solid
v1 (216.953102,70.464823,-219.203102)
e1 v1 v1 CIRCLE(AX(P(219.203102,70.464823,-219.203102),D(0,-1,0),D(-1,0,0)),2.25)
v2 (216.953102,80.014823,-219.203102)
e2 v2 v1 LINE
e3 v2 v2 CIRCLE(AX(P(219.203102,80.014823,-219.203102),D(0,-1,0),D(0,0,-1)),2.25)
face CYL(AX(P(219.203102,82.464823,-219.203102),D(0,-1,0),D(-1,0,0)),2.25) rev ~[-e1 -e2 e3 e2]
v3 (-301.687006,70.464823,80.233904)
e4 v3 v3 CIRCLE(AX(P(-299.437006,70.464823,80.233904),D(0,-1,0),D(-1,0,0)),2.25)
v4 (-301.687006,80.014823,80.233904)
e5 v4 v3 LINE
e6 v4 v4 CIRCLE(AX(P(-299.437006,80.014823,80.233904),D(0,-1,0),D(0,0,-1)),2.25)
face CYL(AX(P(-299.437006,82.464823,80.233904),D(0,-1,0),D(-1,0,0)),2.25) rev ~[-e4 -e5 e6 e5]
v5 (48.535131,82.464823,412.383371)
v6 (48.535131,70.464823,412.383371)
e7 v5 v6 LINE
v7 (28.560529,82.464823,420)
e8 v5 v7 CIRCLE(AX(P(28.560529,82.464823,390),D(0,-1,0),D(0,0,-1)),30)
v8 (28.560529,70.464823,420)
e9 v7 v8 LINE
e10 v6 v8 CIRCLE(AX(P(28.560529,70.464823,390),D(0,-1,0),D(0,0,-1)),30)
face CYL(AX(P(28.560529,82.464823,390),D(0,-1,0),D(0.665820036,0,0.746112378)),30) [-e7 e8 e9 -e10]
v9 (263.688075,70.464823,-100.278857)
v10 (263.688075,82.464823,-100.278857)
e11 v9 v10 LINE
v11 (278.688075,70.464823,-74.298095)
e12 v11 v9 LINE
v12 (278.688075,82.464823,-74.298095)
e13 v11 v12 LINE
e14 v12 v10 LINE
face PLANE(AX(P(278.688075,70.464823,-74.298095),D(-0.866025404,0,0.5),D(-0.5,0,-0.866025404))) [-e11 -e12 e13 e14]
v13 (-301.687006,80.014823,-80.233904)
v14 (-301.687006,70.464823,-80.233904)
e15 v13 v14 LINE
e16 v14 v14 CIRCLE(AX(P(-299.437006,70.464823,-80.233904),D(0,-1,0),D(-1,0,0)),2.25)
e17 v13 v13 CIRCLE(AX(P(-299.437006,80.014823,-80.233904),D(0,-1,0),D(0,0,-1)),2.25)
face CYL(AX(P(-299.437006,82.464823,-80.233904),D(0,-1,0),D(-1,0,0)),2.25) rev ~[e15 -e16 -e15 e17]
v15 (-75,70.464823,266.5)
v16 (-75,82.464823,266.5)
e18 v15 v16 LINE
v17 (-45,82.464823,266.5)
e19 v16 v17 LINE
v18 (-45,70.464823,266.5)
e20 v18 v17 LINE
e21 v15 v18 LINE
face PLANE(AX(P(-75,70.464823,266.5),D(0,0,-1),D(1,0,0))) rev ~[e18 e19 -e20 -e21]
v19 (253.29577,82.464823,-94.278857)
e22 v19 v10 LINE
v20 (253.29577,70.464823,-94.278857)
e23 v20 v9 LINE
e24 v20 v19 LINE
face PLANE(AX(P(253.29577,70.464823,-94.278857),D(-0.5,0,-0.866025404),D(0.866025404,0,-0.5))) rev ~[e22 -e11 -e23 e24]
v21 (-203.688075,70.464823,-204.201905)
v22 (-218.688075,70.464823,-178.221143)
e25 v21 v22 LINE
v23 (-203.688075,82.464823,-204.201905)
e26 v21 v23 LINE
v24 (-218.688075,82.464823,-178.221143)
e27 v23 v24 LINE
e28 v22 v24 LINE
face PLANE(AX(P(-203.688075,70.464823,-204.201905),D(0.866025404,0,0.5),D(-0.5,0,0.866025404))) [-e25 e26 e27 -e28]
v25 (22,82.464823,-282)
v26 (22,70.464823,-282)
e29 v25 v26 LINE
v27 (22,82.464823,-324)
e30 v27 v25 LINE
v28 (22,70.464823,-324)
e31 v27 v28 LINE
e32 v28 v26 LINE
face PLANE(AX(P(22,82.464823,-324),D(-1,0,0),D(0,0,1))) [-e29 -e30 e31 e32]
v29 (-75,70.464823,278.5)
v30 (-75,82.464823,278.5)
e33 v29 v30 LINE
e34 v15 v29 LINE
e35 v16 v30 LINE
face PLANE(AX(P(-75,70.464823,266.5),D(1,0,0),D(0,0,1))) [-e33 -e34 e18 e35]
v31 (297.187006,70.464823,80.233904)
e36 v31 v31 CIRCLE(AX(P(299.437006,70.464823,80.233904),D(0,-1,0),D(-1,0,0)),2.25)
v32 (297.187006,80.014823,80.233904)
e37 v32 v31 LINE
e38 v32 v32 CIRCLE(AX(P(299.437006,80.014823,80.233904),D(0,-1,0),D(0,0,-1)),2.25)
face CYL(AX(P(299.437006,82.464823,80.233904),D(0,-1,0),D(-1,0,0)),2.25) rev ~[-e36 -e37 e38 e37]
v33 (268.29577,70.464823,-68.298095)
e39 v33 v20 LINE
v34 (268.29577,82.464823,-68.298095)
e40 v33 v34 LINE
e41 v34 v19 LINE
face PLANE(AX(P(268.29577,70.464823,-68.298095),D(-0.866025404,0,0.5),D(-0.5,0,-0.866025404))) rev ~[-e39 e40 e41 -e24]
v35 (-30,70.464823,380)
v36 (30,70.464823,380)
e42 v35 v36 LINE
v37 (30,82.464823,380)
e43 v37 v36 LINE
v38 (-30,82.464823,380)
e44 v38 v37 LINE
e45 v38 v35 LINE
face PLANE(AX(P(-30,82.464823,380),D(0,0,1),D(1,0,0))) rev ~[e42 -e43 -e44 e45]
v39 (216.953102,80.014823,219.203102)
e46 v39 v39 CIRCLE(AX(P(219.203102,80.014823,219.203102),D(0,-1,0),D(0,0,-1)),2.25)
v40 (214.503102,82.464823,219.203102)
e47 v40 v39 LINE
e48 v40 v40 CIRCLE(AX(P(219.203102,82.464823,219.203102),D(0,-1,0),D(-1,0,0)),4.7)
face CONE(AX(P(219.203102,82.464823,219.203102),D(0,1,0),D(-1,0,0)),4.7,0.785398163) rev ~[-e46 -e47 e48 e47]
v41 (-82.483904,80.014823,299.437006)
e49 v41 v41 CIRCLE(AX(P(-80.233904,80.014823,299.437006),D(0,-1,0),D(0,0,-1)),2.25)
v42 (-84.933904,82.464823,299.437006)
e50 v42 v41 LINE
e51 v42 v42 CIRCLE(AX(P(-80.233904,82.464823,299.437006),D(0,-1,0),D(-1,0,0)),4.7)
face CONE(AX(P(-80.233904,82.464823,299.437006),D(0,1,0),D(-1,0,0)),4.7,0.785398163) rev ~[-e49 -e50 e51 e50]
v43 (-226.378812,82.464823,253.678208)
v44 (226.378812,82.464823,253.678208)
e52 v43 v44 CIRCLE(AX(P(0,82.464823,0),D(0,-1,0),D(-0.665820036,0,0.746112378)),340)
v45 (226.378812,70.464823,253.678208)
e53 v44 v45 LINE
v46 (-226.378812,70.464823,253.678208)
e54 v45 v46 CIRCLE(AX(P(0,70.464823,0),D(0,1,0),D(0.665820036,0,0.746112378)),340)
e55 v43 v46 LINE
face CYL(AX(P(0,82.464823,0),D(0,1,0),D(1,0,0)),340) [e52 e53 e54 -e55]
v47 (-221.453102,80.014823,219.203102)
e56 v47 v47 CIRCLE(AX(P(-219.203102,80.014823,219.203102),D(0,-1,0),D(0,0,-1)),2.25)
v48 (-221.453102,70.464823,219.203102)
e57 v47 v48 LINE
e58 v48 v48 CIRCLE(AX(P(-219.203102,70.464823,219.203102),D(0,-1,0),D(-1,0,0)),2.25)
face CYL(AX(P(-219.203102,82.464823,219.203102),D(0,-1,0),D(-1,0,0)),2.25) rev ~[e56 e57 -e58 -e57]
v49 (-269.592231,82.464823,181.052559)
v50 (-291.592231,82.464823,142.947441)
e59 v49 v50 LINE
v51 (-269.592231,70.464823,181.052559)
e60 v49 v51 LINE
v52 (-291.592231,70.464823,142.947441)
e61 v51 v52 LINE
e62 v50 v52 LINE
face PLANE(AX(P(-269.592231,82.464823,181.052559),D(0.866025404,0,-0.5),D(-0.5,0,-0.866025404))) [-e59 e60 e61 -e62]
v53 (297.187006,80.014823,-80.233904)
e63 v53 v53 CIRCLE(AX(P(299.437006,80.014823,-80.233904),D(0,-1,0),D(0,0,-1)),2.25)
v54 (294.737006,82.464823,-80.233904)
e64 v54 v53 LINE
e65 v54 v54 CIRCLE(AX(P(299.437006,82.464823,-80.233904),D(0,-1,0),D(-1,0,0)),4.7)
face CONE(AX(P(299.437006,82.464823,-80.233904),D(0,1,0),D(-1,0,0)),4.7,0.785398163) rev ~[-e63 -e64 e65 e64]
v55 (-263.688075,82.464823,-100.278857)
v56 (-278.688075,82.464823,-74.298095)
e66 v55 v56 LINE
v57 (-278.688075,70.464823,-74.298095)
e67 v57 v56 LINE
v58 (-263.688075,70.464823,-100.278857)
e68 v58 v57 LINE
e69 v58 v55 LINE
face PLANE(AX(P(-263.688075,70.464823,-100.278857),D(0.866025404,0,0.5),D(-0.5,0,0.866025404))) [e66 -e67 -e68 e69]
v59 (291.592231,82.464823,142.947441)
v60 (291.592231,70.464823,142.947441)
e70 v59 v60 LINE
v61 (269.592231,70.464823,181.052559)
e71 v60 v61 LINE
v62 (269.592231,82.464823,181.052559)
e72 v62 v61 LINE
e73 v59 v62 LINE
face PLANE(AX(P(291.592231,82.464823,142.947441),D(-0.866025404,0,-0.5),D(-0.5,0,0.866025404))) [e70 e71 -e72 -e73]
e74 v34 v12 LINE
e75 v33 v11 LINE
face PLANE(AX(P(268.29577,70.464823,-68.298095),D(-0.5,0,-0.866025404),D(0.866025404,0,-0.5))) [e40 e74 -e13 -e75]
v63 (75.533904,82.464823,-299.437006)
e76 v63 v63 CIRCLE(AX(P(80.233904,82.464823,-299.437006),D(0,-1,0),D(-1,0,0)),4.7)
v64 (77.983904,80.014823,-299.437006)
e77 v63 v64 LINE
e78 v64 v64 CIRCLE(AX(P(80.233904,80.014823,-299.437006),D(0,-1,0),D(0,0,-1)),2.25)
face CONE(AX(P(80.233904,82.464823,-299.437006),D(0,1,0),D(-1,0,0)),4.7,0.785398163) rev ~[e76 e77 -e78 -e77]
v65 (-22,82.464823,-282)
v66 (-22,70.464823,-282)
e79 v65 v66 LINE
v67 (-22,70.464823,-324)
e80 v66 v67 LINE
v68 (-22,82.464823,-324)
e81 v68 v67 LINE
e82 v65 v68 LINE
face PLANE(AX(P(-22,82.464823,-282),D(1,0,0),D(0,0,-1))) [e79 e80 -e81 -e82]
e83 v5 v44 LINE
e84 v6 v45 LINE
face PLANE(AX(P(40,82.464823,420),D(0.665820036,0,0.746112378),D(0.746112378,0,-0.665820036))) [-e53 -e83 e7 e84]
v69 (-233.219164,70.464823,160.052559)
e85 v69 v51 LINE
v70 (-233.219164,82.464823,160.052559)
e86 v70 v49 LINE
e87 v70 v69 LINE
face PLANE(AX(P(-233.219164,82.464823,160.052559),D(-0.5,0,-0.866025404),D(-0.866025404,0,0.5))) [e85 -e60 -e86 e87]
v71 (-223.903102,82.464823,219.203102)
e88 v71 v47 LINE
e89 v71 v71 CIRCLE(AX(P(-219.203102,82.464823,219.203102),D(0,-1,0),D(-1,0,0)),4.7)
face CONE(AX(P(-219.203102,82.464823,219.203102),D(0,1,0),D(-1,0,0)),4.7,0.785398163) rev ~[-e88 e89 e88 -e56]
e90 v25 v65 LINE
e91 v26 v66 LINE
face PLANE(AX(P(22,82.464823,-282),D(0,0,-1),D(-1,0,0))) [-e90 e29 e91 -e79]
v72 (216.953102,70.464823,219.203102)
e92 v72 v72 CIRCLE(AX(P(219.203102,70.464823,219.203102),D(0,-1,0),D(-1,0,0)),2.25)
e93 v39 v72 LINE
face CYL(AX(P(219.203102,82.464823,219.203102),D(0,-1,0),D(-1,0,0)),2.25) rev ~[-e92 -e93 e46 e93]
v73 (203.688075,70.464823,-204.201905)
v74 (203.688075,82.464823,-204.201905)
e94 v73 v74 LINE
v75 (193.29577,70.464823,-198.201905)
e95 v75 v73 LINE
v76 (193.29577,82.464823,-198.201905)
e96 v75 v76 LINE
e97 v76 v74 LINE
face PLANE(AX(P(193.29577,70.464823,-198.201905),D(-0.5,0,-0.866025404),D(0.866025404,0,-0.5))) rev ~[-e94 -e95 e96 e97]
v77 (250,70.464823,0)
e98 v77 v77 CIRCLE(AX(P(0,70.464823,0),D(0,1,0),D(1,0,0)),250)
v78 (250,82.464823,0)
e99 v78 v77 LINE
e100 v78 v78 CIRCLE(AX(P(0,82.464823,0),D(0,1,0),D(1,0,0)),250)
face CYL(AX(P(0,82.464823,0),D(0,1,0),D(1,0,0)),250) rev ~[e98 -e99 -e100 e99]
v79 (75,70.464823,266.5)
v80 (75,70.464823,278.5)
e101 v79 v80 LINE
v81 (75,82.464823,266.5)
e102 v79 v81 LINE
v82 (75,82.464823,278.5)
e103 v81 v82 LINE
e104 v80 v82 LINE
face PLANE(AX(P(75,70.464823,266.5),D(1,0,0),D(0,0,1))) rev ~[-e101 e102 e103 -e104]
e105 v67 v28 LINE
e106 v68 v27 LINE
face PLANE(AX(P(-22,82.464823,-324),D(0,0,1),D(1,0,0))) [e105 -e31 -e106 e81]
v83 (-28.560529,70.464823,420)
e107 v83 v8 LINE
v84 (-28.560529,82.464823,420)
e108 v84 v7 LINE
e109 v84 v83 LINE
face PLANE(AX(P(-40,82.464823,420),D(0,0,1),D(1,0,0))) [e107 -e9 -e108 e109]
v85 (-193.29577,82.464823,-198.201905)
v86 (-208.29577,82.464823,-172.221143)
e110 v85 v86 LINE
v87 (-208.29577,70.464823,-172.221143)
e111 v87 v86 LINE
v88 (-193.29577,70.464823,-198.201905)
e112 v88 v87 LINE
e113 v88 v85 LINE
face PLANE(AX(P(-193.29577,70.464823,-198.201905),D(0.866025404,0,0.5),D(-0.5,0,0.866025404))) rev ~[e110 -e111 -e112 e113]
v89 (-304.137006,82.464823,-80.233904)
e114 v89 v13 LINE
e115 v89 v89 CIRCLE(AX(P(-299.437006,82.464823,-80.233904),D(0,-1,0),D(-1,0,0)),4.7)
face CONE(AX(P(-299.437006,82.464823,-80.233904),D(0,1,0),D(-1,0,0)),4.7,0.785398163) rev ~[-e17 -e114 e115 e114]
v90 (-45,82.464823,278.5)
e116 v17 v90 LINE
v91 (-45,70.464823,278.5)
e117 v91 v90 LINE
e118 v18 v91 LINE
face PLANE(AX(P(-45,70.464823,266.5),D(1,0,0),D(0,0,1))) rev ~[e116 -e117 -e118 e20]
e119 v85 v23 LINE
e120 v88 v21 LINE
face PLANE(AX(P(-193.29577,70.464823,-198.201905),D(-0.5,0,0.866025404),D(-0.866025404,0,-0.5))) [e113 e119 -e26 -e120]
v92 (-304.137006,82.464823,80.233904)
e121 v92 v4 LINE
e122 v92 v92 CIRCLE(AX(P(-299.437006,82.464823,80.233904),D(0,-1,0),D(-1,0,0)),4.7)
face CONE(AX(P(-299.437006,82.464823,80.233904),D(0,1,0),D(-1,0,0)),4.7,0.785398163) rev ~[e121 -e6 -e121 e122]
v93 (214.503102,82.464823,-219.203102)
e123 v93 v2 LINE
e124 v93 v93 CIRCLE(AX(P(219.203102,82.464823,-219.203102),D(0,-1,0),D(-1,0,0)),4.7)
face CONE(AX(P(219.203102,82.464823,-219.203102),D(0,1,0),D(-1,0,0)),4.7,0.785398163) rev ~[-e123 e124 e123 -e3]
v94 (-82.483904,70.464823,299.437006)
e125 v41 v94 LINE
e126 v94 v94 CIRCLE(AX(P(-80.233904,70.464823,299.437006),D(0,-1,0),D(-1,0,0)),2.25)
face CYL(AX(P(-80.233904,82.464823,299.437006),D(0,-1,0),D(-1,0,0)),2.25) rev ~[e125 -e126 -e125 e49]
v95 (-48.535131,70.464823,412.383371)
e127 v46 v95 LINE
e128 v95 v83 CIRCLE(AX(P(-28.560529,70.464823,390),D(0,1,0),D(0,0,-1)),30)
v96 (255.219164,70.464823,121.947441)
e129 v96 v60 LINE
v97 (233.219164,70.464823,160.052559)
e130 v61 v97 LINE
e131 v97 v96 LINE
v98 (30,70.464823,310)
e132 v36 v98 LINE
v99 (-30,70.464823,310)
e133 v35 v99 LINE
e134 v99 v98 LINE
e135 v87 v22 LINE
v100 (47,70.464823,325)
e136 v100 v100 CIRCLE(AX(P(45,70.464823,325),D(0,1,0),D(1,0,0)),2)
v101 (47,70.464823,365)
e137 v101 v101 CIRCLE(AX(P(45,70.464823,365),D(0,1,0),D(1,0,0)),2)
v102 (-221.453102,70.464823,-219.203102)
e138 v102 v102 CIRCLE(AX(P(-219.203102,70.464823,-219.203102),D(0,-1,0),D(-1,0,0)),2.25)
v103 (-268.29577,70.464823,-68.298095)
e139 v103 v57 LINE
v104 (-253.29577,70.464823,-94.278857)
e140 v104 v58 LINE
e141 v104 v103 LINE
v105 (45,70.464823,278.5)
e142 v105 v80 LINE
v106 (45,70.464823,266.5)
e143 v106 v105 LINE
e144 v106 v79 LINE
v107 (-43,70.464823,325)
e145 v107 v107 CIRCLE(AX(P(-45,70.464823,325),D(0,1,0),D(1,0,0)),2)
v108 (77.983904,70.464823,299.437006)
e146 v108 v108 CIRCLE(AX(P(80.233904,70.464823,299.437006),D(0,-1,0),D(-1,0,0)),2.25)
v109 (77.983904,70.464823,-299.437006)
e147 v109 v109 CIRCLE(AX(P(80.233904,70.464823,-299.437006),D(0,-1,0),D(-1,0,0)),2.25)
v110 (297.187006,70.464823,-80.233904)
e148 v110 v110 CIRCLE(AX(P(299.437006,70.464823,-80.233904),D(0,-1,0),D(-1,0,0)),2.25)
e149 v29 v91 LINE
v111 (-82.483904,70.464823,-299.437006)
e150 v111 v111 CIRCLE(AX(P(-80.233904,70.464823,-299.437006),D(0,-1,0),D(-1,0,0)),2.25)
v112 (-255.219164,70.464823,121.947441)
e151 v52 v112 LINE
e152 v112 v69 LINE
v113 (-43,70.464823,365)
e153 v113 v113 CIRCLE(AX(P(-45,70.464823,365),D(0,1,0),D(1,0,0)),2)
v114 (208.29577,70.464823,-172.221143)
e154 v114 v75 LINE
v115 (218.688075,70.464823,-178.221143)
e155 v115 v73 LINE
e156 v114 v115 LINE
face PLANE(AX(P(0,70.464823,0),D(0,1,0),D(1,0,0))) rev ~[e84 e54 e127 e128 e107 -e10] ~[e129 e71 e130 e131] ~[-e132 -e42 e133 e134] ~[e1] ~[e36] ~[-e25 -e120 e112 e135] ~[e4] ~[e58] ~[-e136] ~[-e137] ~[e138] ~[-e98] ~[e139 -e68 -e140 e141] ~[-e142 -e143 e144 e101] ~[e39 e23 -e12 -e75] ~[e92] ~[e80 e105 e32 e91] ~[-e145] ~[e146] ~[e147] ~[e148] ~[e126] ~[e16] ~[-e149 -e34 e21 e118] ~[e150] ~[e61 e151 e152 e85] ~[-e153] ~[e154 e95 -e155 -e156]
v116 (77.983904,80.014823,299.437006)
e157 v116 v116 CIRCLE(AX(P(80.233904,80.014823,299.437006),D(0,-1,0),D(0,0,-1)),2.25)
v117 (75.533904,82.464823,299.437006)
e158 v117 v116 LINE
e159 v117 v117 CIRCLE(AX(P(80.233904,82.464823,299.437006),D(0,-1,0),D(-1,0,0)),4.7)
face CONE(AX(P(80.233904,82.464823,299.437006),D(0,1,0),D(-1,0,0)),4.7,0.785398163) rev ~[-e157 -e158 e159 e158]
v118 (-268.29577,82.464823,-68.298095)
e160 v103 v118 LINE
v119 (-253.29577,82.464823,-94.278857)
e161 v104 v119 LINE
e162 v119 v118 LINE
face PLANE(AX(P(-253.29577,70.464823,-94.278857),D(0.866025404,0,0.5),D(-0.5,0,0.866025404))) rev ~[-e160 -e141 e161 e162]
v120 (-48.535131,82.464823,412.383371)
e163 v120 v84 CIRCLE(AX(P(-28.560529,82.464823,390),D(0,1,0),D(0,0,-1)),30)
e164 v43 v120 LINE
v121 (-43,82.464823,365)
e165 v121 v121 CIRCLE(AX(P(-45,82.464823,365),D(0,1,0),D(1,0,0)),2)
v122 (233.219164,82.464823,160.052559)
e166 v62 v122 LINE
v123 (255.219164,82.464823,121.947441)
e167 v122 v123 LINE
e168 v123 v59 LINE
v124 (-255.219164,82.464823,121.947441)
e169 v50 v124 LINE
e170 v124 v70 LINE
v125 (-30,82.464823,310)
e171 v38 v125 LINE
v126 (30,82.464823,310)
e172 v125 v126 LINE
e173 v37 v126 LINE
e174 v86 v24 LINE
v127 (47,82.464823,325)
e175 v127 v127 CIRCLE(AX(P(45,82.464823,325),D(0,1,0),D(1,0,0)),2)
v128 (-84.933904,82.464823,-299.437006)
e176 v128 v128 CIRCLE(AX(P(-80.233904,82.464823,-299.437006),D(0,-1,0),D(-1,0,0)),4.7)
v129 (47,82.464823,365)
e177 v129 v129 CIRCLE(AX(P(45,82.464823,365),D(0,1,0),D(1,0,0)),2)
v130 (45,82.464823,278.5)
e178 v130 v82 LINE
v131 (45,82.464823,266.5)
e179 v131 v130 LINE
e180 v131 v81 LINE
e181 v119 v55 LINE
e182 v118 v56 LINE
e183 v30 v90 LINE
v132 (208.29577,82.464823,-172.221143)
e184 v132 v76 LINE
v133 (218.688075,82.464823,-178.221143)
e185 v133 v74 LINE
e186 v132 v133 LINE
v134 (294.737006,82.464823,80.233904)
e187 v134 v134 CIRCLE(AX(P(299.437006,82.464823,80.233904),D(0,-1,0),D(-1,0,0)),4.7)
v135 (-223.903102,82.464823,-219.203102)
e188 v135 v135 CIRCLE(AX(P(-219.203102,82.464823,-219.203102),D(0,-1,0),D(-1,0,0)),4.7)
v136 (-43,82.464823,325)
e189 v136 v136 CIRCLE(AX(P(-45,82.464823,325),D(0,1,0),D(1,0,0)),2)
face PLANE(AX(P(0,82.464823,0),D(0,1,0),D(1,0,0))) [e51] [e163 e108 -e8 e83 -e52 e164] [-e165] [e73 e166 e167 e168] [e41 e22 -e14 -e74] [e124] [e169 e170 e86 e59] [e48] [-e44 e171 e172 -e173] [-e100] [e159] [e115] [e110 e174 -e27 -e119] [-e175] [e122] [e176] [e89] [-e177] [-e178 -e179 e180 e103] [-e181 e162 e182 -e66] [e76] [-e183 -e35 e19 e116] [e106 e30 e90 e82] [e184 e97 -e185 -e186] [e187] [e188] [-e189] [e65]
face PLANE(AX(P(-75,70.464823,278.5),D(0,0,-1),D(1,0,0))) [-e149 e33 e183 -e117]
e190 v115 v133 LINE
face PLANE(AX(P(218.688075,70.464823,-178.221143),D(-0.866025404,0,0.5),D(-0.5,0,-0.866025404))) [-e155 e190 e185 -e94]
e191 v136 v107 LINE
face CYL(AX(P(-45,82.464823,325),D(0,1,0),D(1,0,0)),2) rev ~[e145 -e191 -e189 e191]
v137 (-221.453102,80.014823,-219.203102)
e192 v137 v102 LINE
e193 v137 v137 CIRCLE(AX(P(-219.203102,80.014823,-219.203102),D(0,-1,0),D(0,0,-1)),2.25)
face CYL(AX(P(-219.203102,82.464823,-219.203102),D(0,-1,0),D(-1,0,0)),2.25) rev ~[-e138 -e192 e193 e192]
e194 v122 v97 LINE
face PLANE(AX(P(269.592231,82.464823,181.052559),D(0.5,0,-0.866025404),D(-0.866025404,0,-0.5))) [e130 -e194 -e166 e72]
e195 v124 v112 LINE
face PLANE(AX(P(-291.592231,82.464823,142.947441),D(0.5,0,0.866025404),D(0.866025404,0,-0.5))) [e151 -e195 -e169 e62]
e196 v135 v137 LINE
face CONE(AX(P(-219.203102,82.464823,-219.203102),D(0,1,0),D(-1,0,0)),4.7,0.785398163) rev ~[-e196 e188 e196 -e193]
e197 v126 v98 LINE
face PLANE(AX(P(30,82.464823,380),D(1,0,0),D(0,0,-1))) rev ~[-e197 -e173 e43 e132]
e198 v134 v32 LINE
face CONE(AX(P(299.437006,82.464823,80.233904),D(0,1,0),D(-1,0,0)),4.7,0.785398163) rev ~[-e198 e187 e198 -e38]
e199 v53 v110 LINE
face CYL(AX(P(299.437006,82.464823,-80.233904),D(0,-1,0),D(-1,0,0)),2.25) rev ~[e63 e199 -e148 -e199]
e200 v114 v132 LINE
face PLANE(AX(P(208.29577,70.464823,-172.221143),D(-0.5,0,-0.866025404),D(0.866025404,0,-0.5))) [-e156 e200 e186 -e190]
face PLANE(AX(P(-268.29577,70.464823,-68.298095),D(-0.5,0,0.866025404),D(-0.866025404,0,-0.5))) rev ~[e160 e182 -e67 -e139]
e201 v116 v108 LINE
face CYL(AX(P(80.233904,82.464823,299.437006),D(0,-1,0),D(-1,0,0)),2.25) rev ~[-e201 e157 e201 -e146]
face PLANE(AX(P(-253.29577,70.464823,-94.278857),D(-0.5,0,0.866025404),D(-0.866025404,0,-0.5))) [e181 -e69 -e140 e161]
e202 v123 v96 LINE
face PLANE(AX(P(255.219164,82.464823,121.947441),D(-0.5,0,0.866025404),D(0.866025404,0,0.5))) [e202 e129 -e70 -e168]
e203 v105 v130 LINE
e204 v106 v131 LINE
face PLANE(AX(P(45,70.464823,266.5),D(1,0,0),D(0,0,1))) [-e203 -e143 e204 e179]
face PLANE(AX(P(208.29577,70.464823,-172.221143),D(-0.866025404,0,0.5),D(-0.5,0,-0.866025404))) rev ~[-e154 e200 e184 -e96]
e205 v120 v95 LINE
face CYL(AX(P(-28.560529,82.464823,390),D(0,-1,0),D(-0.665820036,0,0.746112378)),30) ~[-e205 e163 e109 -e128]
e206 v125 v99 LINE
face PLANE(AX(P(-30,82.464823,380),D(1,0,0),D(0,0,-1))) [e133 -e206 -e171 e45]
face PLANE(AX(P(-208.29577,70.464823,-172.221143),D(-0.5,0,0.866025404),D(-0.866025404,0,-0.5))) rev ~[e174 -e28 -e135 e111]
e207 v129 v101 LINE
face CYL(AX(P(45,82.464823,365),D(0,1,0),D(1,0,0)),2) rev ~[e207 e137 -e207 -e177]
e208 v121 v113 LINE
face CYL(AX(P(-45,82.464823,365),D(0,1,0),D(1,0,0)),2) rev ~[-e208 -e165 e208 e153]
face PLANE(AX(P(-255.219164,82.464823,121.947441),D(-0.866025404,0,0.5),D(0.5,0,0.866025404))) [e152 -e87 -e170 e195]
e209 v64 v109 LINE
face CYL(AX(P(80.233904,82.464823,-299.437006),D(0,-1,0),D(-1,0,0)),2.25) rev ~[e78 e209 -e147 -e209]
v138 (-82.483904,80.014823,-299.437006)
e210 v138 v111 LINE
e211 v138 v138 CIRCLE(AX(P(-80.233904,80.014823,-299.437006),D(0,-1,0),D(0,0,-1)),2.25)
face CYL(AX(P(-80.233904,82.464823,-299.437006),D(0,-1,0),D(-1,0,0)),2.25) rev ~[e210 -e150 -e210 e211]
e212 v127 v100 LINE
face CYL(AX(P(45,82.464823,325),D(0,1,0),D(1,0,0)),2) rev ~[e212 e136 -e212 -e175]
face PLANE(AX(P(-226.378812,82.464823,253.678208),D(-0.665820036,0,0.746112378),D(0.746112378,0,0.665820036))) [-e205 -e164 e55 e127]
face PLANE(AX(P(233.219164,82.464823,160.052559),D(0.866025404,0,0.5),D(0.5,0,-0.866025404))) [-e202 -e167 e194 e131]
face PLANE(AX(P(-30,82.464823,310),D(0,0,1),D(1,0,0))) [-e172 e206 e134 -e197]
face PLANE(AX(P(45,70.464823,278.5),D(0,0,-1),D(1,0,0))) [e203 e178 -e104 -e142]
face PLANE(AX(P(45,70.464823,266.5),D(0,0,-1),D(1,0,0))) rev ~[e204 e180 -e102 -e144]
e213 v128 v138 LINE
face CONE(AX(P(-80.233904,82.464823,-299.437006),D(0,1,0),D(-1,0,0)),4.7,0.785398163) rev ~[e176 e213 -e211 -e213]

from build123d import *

# Parameters (mm, degrees)
SKETCH1_R                                      = 340
SKETCH1_R_2                                    = 250
BOSS_EXTRUDE1_DEPTH                            = 12
SKETCH7_W                                      = 30
SKETCH7_H                                      = 12
CUT_EXTRUDE2_DEPTH                             = 12
CIRPATTERN3_COUNT                              = 3
BOSS_EXTRUDE3_DEPTH                            = 12
SKETCH9_W                                      = 60
SKETCH9_H                                      = 70
CUT_EXTRUDE3_DEPTH                             = 12
CUT_EXTRUDE4_DEPTH                             = 12
CIRPATTERN4_COUNT                              = 3
SKETCH11_R                                     = 2
CUT_EXTRUDE5_DEPTH                             = 12
FILLET1_R                                      = 30
CSK_FOR_M4_FLAT_HEAD_MACHINE_SCREW_D           = 4.5
CSK_FOR_M4_FLAT_HEAD_MACHINE_SCREW_CSINK_D     = 9.4
CSK_FOR_M4_FLAT_HEAD_MACHINE_SCREW_CSINK_ANGLE = 90


with BuildPart() as part:
    # Sketch1 → Boss-Extrude1 (new body)
    with BuildSketch(Plane(origin=(0, 82.464823413, 0), x_dir=(1, 0, 0), z_dir=(0, 1, 0))):
        Circle(SKETCH1_R)
        Circle(SKETCH1_R_2, mode=Mode.SUBTRACT)
    extrude(amount=-BOSS_EXTRUDE1_DEPTH)

    # Sketch7 → Cut-Extrude2 (cut)
    with BuildSketch(Plane.XZ.offset(-70.464823413)):
        with Locations((60, 272.5)):
            Rectangle(SKETCH7_W, SKETCH7_H)
        with Locations((-60, 272.5)):
            Rectangle(SKETCH7_W, SKETCH7_H)
    cut_extrude2 = extrude(amount=-CUT_EXTRUDE2_DEPTH, mode=Mode.SUBTRACT)

    # CirPattern3: Cut-Extrude2 ×3 about axis
    cirpattern3_axis = Axis((0, 0, 0), (0, 1, 0))
    for i in range(1, CIRPATTERN3_COUNT):
        add(cut_extrude2.rotate(cirpattern3_axis, i * 360 / CIRPATTERN3_COUNT), mode=Mode.SUBTRACT)

    # Sketch8 → Boss-Extrude3 (add)
    with BuildSketch(Plane(origin=(0, 82.464823413, 0), x_dir=(1, 0, 0), z_dir=(0, 1, 0))):
        with BuildLine():
            Line((-40, -420), (40, -420))
            Line((40, -420), (226.378812173, -253.678208364))
            ThreePointArc((226.378812173, -253.678208364), (0, -340), (-226.378812173, -253.678208364))
            Line((-226.378812173, -253.678208364), (-40, -420))
        make_face()
    extrude(amount=-BOSS_EXTRUDE3_DEPTH)

    # Sketch9 → Cut-Extrude3 (cut)
    with BuildSketch(Plane(origin=(0, 82.464823413, 0), x_dir=(1, 0, 0), z_dir=(0, 1, 0))):
        with Locations((0, -345)):
            Rectangle(SKETCH9_W, SKETCH9_H)
    extrude(amount=-CUT_EXTRUDE3_DEPTH, mode=Mode.SUBTRACT)

    # Sketch10 → Cut-Extrude4 (cut)
    with BuildSketch(Plane(origin=(0, 82.464823413, 0), x_dir=(1, 0, 0), z_dir=(0, 1, 0))):
        Polygon((233.219163867, -160.052558883), (255.219163867, -121.947441117), (291.592230826, -142.947441117), (269.592230826, -181.052558883), align=None)
    cut_extrude4 = extrude(amount=-CUT_EXTRUDE4_DEPTH, mode=Mode.SUBTRACT)

    # CirPattern4: Cut-Extrude4 ×3 about axis
    cirpattern4_axis = Axis((0, 0, 0), (0, 1, 0))
    for i in range(1, CIRPATTERN4_COUNT):
        add(cut_extrude4.rotate(cirpattern4_axis, i * 360 / CIRPATTERN4_COUNT), mode=Mode.SUBTRACT)

    # Sketch11 → Cut-Extrude5 (cut)
    with BuildSketch(Plane(origin=(0, 82.464823413, 0), x_dir=(1, 0, 0), z_dir=(0, 1, 0))):
        with Locations((-45, -365)):
            Circle(SKETCH11_R)
        with Locations((-45, -325)):
            Circle(SKETCH11_R)
        with Locations((45, -365)):
            Circle(SKETCH11_R)
        with Locations((45, -325)):
            Circle(SKETCH11_R)
    extrude(amount=-CUT_EXTRUDE5_DEPTH, mode=Mode.SUBTRACT)

    # Fillet1
    fillet1_edges = [part.edges().sort_by_distance(p)[0] for p in [
        (-40, 76.464823413, 420),
        (40, 76.464823413, 420),
    ]]
    fillet(fillet1_edges, radius=FILLET1_R)

    # CSK for M4 Flat Head Machine Screw (through all)
    with Locations(Plane(origin=(0, 82.464823413, 0), x_dir=(1, 0, 0), z_dir=(0, 1, 0))):
        with Locations((80.233903982, 299.43700615), (219.203102168, 219.203102168), (299.43700615, 80.233903982), (299.43700615, -80.233903982), (219.203102168, -219.203102168), (80.233903982, -299.43700615), (-80.233903982, -299.43700615), (-219.203102168, -219.203102168), (-299.43700615, -80.233903982), (-299.43700615, 80.233903982), (-219.203102168, 219.203102168), (-80.233903982, 299.43700615), (0, 0)):
            CounterSinkHole(CSK_FOR_M4_FLAT_HEAD_MACHINE_SCREW_D / 2, CSK_FOR_M4_FLAT_HEAD_MACHINE_SCREW_CSINK_D / 2, counter_sink_angle=CSK_FOR_M4_FLAT_HEAD_MACHINE_SCREW_CSINK_ANGLE)


solid = part.part
